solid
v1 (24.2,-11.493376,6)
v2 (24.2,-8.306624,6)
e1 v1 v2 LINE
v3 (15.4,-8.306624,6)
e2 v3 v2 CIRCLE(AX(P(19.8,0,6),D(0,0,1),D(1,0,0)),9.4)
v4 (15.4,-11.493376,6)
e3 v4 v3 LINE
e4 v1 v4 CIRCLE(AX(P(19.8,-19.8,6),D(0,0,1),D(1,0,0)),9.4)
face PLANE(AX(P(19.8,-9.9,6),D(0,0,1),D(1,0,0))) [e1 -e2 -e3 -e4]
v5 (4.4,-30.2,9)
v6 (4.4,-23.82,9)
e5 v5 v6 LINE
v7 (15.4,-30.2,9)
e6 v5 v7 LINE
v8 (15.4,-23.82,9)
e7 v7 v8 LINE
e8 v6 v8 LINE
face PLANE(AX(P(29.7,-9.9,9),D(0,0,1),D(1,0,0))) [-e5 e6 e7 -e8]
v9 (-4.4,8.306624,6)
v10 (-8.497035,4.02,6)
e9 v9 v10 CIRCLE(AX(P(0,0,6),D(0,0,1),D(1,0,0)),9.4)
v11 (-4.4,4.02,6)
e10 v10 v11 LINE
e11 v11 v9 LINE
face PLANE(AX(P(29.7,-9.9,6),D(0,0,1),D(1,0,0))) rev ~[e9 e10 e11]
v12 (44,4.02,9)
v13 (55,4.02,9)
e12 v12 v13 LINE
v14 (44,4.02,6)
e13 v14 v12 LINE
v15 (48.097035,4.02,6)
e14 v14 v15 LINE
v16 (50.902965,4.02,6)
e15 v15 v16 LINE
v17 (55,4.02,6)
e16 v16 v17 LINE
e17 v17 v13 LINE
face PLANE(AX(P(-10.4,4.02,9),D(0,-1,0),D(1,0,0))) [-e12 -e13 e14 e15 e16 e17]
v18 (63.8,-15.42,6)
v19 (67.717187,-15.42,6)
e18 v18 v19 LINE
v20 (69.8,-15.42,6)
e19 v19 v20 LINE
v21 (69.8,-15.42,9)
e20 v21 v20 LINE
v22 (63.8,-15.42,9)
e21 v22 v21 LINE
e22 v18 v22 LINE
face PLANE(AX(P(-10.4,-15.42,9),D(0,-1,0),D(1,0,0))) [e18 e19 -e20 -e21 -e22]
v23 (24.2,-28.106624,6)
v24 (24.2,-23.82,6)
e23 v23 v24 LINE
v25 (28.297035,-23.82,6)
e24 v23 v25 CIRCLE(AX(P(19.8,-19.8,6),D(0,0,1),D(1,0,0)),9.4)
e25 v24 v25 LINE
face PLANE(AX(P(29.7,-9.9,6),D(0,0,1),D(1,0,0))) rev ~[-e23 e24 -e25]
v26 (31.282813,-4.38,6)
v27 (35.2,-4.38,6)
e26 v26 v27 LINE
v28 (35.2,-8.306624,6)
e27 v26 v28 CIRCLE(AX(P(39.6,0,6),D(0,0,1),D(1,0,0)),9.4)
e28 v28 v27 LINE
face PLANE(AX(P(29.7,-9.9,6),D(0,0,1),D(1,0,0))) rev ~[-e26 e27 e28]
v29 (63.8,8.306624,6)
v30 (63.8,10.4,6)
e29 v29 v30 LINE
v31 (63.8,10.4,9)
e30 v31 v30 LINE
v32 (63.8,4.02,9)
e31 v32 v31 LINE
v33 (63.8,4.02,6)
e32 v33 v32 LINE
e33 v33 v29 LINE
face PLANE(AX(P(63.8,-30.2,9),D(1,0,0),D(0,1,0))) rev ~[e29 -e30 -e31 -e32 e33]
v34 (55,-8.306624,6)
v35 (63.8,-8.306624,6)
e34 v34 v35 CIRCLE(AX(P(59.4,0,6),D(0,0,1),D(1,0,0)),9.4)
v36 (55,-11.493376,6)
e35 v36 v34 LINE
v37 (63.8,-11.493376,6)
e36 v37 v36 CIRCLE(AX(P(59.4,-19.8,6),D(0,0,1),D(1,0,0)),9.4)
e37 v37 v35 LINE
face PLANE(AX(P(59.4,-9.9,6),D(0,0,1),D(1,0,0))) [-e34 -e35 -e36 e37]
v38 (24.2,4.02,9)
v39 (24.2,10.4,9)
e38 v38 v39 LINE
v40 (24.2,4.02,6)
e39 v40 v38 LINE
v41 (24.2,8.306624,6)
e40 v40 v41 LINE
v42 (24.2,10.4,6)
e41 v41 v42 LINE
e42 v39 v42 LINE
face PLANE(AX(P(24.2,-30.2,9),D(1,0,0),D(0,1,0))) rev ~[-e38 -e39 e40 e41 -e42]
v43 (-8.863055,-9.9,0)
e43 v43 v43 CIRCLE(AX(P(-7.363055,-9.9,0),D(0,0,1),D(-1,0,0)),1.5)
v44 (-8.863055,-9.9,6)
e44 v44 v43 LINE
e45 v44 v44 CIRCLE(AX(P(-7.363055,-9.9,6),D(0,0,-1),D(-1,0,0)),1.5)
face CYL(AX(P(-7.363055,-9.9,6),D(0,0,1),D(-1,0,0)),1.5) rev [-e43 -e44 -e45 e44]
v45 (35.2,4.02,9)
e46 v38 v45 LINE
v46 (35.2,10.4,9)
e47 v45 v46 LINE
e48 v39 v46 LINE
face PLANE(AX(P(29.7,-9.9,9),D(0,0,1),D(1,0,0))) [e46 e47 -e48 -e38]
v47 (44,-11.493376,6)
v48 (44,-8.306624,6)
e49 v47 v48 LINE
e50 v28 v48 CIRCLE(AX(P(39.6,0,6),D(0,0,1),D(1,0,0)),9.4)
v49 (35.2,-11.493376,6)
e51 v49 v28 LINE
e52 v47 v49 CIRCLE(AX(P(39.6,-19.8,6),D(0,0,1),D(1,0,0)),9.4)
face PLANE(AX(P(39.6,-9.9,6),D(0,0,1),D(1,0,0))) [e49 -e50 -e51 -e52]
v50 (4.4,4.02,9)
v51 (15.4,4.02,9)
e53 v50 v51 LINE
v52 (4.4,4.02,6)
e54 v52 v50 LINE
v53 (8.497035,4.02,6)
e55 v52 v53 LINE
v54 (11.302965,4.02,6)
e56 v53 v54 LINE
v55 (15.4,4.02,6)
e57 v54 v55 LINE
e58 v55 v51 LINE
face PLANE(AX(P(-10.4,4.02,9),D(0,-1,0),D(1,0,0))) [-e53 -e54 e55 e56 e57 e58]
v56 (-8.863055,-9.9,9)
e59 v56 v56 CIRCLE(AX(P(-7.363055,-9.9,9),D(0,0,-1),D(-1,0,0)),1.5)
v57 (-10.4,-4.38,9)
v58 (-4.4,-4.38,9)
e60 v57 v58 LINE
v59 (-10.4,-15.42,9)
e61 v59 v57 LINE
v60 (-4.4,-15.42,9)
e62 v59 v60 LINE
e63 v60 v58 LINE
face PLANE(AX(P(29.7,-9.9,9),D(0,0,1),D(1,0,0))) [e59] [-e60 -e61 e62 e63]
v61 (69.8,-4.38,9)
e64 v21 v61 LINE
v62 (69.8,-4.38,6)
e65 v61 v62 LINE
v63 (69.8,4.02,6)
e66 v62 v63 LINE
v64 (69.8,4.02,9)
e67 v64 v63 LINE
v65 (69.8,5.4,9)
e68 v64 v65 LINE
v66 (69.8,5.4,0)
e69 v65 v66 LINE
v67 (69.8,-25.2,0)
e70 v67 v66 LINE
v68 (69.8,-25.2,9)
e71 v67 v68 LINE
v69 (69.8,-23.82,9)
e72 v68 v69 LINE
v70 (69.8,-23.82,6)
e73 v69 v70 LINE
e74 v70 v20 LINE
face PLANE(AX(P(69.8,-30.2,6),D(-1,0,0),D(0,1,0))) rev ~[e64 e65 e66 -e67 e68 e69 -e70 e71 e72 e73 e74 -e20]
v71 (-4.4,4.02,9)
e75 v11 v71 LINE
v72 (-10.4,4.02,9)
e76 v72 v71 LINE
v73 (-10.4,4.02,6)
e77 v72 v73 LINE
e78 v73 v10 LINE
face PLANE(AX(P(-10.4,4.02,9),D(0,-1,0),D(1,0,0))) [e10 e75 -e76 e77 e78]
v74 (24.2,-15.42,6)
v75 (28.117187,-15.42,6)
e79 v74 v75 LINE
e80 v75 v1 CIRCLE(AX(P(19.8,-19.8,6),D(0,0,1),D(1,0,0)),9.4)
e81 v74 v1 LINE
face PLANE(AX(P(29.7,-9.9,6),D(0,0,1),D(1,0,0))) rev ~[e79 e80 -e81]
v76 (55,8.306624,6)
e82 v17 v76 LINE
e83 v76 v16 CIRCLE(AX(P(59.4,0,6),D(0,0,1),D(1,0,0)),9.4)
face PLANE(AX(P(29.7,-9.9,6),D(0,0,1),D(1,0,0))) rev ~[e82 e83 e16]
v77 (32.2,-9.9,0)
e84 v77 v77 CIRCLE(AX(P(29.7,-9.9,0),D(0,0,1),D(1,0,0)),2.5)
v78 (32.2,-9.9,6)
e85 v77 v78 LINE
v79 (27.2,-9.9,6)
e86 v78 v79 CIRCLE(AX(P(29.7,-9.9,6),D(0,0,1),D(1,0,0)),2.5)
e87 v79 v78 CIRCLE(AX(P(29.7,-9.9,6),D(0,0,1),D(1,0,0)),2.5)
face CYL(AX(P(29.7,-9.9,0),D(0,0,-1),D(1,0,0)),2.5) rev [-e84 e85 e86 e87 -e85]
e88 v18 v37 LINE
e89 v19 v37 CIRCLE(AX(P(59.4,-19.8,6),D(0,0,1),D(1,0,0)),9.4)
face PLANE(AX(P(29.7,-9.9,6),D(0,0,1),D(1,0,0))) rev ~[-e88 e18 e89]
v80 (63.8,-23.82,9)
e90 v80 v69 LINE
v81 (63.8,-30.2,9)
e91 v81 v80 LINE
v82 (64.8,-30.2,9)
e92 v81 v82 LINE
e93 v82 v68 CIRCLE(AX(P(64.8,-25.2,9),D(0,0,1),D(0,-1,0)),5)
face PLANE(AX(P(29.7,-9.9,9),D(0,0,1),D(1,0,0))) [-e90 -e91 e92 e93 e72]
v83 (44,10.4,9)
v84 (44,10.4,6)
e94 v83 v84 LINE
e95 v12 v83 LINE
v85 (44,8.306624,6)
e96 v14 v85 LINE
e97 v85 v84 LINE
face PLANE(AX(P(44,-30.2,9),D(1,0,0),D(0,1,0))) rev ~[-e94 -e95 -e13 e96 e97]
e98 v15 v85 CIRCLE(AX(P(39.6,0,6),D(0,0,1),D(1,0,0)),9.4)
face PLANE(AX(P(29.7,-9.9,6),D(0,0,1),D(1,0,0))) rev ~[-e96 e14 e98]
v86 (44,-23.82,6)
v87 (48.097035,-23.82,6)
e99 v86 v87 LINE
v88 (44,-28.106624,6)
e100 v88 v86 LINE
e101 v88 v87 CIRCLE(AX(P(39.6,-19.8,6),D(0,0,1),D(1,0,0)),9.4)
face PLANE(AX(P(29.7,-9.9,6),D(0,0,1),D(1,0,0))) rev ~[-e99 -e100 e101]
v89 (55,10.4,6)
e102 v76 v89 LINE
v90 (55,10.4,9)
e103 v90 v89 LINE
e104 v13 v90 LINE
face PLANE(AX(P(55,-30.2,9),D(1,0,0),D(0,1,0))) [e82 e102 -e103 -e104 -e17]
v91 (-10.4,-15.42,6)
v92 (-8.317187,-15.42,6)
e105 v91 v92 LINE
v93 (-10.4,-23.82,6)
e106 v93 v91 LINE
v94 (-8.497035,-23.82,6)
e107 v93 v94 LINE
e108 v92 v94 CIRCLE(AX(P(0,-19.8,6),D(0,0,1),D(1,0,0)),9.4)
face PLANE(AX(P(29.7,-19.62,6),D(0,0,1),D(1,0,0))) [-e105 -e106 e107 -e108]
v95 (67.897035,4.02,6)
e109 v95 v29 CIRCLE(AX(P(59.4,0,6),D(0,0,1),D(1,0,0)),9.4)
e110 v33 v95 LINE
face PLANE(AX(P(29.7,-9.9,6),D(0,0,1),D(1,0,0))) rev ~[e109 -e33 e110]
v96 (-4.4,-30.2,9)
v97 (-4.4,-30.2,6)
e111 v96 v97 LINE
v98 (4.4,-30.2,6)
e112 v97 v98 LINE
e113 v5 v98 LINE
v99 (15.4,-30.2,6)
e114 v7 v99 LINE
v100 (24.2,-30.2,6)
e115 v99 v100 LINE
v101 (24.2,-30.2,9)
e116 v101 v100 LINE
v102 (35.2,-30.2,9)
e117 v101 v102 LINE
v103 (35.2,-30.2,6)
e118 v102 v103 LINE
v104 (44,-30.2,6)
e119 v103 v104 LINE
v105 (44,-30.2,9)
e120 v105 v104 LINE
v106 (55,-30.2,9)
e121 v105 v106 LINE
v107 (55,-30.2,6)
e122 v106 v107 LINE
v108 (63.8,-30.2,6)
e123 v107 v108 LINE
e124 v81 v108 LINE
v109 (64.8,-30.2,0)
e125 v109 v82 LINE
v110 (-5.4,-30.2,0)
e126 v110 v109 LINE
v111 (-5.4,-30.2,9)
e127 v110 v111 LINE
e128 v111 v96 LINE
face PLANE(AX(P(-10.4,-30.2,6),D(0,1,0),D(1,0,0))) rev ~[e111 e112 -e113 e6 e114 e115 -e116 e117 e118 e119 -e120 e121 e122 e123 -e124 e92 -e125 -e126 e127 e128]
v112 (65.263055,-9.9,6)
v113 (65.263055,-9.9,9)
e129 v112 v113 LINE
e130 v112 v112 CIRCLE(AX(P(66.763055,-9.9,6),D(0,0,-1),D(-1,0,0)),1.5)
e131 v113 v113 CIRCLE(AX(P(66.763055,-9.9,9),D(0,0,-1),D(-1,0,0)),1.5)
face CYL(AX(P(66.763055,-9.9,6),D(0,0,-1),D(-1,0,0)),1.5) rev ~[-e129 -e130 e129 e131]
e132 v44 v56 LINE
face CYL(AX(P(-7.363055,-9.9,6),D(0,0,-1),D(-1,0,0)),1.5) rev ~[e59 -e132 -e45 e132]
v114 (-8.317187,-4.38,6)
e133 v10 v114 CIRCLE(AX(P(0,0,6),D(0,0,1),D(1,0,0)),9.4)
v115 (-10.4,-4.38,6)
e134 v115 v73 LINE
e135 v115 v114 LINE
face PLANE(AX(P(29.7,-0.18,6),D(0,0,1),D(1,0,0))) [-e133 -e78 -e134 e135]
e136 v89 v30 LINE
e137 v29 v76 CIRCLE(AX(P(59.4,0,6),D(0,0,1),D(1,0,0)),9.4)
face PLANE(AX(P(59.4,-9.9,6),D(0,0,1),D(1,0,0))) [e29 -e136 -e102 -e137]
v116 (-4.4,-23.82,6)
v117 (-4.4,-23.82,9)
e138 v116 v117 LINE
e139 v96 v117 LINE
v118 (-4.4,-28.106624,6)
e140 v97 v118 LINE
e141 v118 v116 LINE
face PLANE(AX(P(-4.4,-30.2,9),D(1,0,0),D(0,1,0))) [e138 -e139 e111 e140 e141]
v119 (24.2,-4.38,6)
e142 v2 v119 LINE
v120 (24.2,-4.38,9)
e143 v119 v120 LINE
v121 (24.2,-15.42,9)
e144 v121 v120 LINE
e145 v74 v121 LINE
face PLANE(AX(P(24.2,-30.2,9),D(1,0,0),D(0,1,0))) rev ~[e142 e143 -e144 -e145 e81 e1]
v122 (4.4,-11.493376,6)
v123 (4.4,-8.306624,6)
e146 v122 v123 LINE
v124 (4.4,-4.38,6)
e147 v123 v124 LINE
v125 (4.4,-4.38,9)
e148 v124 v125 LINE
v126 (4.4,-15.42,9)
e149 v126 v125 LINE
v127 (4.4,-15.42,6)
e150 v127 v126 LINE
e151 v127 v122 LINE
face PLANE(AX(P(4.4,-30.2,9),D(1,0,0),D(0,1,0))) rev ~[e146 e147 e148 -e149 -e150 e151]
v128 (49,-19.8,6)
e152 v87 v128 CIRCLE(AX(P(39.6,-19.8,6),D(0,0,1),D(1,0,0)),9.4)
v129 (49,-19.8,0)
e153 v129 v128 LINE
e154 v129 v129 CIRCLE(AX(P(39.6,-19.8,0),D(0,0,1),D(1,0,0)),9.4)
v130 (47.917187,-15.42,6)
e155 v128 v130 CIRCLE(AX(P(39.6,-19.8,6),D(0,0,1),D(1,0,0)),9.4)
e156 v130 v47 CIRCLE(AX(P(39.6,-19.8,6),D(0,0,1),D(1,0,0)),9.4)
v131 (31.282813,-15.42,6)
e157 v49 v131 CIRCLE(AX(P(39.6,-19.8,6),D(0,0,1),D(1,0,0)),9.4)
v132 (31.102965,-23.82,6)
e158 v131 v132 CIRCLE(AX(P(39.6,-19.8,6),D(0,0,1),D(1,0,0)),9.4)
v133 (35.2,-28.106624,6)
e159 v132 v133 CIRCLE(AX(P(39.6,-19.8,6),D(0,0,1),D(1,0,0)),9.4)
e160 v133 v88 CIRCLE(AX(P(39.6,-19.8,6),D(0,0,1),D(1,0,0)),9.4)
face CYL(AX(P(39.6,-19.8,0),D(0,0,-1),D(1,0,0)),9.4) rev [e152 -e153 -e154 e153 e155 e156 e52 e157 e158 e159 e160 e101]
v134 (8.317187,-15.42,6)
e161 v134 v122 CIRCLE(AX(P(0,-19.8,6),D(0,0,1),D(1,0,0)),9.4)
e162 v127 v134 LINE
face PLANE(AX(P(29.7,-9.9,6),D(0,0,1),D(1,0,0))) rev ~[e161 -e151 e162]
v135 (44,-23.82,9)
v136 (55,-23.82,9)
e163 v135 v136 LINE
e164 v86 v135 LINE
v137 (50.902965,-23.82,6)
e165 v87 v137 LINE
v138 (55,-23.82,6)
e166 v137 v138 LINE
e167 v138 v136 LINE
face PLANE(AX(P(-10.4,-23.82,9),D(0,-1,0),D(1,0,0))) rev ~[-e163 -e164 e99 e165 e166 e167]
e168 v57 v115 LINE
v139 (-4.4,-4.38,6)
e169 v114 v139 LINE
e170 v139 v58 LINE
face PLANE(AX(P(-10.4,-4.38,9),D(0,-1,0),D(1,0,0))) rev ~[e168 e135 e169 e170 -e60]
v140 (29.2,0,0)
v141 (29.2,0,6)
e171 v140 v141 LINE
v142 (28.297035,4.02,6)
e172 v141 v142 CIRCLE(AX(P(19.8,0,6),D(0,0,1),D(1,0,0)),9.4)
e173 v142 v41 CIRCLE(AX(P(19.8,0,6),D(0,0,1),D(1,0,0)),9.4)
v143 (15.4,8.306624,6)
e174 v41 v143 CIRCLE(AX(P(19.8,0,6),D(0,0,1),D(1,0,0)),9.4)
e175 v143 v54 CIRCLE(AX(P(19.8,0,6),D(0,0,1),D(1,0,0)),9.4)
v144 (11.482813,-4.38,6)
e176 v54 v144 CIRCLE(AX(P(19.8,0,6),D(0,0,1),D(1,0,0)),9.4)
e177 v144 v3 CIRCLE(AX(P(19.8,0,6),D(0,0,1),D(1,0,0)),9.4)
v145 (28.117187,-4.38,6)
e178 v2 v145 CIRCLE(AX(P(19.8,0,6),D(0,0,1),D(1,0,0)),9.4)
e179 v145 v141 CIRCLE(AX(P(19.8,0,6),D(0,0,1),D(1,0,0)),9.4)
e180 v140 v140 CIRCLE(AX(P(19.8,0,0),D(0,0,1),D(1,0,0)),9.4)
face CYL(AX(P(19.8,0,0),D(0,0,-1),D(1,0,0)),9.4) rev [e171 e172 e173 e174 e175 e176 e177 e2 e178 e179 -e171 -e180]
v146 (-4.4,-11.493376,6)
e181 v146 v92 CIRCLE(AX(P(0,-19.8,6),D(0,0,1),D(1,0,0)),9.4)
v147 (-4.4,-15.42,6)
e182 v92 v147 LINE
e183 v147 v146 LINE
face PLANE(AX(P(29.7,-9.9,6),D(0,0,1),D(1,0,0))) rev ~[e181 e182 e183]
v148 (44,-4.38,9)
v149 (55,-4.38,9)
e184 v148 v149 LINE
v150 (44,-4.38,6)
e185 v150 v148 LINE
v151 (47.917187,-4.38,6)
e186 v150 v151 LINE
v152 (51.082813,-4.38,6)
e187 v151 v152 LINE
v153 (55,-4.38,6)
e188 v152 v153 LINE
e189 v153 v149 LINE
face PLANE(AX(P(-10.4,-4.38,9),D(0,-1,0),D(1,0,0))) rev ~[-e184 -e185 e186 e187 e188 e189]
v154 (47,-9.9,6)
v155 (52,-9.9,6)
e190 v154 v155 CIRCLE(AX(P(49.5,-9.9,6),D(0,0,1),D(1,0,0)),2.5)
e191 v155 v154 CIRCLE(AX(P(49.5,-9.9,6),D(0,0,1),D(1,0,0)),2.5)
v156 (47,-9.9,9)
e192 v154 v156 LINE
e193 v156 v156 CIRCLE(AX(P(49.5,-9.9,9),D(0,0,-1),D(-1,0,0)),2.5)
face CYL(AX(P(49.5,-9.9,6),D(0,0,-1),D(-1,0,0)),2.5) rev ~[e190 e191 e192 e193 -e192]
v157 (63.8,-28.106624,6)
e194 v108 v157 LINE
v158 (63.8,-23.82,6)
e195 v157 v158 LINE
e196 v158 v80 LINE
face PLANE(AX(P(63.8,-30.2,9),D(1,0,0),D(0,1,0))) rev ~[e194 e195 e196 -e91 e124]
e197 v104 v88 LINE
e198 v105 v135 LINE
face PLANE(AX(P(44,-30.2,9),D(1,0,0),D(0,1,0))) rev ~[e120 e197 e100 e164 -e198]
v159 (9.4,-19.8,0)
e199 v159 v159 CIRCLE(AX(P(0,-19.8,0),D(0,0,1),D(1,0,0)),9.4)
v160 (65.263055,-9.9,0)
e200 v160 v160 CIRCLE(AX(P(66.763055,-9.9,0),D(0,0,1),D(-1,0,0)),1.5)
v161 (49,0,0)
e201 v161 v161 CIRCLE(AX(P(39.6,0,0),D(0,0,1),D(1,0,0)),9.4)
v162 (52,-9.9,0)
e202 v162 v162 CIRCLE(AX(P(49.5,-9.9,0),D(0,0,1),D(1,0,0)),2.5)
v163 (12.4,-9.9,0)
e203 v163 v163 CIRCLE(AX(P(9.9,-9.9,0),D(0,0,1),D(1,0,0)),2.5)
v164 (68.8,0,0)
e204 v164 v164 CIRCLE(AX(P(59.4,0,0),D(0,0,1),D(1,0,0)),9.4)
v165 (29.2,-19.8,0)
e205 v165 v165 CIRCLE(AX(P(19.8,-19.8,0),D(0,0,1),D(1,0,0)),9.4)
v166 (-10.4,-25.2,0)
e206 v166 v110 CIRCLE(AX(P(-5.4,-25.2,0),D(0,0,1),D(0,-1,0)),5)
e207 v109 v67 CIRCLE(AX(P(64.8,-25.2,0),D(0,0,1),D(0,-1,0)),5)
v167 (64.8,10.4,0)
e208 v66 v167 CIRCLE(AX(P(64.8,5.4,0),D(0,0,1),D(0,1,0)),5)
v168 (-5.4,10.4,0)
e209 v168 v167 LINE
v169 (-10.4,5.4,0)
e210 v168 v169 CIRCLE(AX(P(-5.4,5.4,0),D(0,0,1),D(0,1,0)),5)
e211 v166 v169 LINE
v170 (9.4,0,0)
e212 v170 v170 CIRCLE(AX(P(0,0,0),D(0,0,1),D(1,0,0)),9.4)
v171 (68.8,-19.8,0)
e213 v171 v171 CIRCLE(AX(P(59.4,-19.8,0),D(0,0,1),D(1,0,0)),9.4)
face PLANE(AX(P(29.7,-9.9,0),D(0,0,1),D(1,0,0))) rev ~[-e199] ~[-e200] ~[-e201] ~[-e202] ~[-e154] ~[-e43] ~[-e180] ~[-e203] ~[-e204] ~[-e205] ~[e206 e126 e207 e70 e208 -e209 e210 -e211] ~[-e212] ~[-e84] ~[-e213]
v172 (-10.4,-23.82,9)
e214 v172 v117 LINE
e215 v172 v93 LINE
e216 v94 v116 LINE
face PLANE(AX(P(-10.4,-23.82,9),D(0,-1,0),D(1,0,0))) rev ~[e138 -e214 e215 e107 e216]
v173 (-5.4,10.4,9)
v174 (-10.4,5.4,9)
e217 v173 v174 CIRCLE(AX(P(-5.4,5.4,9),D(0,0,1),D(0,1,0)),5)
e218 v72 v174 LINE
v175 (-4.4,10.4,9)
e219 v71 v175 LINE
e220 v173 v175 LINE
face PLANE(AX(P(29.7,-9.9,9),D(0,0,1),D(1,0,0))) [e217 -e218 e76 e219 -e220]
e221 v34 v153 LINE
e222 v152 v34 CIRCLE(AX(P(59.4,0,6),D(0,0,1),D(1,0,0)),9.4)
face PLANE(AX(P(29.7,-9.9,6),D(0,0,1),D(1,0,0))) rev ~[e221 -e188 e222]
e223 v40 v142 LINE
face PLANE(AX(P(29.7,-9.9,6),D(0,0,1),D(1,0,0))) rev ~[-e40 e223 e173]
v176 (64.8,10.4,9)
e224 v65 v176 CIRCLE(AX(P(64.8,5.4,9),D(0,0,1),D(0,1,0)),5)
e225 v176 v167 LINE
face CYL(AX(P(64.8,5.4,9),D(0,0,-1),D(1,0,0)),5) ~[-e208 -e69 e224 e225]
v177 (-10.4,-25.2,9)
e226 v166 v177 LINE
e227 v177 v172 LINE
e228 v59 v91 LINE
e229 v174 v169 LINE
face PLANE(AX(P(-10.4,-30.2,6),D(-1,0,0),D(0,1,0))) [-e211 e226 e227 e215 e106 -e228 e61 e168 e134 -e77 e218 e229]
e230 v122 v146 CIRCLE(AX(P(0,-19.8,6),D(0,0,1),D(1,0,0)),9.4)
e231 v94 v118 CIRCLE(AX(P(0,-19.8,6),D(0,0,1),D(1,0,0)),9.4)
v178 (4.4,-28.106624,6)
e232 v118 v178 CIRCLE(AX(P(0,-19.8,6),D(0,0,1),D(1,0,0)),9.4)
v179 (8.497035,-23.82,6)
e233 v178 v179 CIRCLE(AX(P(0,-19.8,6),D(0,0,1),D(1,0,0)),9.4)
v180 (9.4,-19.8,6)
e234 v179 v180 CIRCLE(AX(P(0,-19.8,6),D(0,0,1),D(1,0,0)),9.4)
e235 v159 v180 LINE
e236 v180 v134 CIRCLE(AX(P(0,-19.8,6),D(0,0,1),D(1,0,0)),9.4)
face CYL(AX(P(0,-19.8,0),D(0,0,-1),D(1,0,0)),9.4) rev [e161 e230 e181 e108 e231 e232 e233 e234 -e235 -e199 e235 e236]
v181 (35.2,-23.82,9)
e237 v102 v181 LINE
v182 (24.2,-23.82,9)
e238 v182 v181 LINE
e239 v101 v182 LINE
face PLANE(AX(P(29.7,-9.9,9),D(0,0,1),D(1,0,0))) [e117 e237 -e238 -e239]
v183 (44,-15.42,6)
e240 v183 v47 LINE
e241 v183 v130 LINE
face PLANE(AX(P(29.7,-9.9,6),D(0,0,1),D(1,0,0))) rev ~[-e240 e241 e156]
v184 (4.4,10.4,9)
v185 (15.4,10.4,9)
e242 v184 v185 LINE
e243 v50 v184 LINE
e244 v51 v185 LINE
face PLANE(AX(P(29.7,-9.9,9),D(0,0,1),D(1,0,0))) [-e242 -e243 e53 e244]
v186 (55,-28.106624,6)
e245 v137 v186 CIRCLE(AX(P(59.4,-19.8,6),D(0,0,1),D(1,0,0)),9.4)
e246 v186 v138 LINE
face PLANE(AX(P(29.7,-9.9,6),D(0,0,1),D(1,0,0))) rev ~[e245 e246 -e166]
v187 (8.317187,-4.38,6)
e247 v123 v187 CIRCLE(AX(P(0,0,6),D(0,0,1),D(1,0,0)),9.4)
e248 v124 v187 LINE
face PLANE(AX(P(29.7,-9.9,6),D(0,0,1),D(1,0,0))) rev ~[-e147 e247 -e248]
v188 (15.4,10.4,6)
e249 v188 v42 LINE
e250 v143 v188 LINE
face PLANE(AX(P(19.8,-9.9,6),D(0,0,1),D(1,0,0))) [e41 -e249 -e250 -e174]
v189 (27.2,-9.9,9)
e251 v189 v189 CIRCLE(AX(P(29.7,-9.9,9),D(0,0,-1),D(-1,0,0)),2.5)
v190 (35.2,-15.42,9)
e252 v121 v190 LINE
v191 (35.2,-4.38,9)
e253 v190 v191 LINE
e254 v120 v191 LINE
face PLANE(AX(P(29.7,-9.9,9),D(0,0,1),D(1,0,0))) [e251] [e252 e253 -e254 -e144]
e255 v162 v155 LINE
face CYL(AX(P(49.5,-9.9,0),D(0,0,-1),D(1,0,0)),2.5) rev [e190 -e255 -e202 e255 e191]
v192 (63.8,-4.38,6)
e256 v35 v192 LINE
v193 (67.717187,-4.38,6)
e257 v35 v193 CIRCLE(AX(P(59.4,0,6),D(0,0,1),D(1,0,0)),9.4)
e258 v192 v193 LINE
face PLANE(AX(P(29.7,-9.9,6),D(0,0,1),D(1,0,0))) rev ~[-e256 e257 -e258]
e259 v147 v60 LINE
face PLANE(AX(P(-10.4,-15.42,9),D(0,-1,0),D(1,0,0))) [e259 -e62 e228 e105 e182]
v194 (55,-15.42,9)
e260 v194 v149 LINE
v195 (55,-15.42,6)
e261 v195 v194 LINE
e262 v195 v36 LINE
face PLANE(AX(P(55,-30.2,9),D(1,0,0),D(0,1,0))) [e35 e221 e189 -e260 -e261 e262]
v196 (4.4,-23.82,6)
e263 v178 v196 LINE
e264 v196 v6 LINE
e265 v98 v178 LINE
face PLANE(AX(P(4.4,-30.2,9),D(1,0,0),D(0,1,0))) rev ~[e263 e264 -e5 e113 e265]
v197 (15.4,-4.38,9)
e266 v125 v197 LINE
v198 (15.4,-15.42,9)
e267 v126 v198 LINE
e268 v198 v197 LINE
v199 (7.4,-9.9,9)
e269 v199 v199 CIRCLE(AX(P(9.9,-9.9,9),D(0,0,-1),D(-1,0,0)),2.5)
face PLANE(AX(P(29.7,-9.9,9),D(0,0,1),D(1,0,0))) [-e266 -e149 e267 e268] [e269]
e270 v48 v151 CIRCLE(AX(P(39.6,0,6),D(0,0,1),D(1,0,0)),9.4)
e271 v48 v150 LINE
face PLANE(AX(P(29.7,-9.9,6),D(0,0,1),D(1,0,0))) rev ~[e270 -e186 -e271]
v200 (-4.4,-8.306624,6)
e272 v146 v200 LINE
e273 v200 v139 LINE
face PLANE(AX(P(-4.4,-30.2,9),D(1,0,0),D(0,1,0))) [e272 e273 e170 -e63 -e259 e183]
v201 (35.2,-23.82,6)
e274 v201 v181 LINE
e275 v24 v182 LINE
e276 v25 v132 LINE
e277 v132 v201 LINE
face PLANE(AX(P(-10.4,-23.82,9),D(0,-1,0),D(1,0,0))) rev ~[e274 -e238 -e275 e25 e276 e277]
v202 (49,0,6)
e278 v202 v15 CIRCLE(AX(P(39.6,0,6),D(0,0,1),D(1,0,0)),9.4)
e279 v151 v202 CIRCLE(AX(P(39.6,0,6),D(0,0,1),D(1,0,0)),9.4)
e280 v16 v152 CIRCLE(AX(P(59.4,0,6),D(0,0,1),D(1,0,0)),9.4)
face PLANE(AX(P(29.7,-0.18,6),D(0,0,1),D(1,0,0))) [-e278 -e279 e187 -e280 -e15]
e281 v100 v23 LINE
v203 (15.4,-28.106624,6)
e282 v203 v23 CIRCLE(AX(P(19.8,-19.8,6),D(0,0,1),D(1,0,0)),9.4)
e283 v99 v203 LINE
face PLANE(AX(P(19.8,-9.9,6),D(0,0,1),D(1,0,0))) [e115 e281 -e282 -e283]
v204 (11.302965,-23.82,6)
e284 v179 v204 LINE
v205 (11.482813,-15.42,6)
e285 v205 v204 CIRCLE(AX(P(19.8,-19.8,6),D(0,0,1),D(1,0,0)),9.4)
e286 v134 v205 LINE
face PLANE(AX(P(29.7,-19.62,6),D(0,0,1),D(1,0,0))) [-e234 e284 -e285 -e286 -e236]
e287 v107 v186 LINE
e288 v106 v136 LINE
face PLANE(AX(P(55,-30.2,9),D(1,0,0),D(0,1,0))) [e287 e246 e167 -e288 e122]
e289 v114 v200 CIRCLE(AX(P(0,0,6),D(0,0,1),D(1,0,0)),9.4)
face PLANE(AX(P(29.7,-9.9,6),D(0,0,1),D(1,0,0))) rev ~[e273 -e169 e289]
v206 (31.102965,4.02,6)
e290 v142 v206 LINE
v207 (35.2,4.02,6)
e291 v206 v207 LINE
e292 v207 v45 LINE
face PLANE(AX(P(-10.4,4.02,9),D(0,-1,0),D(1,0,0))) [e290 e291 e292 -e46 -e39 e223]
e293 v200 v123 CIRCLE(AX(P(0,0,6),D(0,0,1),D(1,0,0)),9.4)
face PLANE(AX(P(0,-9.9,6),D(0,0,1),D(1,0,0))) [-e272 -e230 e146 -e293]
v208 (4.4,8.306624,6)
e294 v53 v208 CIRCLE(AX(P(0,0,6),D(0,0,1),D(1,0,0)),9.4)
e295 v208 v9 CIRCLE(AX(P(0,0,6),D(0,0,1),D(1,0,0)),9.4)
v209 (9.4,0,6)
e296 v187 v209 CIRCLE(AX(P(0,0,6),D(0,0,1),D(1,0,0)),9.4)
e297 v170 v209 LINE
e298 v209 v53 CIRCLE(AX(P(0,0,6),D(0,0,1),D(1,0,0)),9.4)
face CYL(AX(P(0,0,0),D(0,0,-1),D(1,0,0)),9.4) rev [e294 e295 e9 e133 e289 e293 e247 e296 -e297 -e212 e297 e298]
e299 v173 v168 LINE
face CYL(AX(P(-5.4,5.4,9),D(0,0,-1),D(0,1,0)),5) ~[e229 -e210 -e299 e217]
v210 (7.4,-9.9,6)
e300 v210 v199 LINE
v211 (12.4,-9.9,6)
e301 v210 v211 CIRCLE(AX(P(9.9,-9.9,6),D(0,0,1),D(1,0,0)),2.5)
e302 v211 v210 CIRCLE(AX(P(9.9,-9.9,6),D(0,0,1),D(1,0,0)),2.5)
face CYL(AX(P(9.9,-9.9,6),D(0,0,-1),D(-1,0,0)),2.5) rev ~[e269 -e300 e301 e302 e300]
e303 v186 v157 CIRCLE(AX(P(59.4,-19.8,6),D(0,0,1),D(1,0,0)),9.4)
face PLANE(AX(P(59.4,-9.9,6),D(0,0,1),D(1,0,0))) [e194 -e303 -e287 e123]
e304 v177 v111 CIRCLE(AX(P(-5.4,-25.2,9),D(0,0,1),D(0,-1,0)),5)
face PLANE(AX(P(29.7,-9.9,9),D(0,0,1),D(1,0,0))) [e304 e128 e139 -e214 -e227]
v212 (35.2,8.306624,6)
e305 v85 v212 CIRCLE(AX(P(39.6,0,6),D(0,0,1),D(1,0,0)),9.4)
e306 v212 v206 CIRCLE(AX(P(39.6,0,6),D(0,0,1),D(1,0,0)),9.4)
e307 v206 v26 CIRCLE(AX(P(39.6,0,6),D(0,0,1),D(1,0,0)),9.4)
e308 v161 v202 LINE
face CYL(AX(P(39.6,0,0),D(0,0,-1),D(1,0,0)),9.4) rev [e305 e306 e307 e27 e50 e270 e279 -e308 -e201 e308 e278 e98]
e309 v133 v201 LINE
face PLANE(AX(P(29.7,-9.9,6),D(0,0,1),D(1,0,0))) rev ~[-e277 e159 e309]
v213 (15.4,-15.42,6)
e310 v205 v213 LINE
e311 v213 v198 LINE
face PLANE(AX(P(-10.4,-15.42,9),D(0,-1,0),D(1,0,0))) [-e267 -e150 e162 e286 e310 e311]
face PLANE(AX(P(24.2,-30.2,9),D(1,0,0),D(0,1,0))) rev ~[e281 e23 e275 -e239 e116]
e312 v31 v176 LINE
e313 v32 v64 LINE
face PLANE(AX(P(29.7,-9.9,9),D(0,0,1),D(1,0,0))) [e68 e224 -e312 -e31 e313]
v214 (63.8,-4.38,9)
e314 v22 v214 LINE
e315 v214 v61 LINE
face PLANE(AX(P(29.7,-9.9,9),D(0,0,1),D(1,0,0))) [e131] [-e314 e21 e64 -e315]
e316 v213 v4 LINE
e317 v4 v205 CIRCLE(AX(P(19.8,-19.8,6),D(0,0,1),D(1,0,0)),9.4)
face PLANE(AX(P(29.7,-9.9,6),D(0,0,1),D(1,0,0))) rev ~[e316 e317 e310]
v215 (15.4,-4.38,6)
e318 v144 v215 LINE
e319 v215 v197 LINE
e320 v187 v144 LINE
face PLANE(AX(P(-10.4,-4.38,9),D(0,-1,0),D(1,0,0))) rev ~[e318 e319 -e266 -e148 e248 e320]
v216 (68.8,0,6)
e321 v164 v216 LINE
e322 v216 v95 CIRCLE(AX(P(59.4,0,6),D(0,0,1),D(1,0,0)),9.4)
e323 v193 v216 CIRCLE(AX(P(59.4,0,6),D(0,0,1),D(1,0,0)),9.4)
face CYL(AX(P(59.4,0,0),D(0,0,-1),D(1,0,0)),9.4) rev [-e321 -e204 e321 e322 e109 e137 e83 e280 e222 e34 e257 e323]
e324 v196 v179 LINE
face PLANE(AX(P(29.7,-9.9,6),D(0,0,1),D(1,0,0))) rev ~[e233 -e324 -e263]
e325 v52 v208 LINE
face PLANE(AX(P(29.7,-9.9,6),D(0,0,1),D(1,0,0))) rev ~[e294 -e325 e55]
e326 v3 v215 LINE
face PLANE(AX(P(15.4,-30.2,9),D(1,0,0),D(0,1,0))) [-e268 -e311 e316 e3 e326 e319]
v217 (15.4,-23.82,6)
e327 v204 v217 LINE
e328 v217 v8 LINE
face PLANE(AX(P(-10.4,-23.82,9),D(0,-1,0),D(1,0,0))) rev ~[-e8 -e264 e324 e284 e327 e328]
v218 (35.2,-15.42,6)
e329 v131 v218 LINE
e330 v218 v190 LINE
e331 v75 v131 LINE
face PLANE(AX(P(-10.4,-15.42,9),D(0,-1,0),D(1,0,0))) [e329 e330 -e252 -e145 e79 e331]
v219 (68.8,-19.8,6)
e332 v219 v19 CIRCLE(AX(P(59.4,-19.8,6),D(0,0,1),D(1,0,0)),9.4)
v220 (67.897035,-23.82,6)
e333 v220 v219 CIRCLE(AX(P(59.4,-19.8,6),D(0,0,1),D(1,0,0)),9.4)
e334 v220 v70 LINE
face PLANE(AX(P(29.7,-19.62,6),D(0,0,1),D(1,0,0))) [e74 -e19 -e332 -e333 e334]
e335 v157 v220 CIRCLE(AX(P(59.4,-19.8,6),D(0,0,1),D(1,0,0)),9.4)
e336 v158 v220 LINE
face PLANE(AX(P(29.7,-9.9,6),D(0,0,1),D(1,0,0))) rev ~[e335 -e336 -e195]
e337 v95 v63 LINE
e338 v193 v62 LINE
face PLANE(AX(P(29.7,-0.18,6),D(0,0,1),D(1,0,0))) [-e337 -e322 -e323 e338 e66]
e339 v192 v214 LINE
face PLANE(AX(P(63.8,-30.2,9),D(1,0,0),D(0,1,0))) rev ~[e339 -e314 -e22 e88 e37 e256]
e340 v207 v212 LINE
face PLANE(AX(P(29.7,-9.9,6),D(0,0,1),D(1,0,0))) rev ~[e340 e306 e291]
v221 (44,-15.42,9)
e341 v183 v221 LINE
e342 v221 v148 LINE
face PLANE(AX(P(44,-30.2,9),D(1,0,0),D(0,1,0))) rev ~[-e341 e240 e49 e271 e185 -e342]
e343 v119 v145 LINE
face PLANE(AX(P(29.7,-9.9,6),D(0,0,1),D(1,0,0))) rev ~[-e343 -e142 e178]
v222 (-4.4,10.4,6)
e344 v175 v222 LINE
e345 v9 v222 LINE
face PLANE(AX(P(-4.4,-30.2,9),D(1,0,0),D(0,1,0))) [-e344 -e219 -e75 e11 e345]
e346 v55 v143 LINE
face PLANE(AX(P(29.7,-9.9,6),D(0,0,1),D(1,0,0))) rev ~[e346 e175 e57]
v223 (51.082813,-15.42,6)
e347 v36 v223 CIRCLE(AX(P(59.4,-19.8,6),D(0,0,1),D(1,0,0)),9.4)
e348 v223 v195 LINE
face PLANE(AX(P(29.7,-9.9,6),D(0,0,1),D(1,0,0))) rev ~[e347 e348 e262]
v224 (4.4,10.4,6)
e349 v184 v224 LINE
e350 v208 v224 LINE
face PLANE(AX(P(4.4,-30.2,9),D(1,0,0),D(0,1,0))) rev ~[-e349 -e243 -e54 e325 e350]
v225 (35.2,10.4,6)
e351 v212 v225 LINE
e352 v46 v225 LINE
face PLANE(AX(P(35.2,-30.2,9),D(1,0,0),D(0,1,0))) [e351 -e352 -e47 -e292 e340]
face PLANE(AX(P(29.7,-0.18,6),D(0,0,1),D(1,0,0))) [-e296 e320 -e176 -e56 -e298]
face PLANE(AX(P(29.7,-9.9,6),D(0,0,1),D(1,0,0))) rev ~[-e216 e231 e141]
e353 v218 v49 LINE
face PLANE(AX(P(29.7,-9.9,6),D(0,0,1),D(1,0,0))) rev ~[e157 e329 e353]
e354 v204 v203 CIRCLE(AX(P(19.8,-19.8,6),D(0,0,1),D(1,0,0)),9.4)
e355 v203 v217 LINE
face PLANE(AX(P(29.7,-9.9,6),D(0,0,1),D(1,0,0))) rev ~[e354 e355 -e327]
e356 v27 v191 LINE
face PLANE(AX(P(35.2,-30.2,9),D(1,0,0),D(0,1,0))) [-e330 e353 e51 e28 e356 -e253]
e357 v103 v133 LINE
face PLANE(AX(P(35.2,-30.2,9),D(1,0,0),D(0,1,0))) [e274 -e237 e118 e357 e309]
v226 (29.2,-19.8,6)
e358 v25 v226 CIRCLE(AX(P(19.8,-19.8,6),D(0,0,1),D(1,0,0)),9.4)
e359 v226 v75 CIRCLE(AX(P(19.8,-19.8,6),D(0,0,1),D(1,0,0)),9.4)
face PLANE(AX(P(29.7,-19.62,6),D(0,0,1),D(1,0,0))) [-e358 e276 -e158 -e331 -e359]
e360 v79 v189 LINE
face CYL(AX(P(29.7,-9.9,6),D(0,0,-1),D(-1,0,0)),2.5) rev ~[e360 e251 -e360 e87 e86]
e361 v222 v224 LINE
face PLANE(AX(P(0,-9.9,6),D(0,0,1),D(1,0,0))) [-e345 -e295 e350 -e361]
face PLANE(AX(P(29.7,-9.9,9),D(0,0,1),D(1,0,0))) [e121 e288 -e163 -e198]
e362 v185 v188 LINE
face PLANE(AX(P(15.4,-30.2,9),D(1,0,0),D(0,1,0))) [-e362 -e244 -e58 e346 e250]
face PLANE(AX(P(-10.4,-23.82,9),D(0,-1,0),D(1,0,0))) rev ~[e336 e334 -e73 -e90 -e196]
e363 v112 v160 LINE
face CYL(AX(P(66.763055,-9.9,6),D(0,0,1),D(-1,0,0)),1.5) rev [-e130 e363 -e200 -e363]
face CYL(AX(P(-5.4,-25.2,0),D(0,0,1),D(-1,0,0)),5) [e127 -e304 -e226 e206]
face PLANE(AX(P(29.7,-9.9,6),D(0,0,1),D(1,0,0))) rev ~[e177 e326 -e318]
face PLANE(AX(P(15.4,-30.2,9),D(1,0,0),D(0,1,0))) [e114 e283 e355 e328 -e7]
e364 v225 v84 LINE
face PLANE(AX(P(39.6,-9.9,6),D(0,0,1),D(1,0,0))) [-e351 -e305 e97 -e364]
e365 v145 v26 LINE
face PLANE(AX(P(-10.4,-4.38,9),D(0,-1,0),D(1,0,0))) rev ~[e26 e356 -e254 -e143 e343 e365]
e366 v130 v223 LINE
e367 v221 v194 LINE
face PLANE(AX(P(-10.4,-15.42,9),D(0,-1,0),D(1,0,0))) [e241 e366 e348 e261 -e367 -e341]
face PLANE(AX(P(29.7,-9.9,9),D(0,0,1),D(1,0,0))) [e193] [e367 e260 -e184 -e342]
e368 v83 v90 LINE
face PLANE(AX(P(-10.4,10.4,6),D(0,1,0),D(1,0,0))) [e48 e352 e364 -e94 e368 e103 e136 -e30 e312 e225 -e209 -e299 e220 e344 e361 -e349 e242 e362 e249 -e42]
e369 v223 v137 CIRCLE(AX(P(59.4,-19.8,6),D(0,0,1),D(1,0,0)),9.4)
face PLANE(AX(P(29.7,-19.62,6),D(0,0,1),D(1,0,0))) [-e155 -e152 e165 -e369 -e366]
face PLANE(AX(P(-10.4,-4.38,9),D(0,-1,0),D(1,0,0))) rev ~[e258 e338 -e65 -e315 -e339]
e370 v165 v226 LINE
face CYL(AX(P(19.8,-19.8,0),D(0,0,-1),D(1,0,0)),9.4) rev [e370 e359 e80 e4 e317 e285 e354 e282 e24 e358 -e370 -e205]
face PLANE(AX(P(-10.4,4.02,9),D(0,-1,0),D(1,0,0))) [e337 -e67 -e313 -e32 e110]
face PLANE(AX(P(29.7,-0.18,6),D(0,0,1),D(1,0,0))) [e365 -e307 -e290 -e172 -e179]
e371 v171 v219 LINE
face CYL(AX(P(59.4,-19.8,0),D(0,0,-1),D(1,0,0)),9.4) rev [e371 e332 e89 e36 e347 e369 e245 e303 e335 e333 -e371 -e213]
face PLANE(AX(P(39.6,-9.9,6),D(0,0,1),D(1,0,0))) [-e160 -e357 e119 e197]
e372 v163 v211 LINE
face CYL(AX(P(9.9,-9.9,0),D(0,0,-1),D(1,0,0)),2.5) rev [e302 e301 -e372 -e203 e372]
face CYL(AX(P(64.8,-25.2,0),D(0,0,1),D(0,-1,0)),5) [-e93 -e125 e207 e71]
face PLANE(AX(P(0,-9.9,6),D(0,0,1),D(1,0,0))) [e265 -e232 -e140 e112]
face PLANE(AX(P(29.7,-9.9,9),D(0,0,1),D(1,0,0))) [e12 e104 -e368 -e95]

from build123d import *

# Parameters (mm, degrees)
SKETCH_1_W               = 80.2
SKETCH_1_H               = 40.6
SKETCH_1_R               = 9.4
SKETCH_1_R_2             = 2.5
EXTRUDE_1_DEPTH          = 6
SKETCH_2_W               = 80.2
SKETCH_2_H               = 40.6
EXTRUDE_2_DEPTH          = 3
SKETCH_3_W               = 80.2
SKETCH_3_H               = 8.4
CUT_EXTRUDE_1_DEPTH      = 3
SKETCH_4_W               = 8.8
SKETCH_4_H               = 40.6
CUT_EXTRUDE_2_DEPTH      = 3
SKETCH_5_R               = 2.5
SKETCH_5_R_2             = 1.5
CUT_EXTRUDE_3_DEPTH      = 7
CUT_EXTRUDE_3_DEPTH_BACK = 10
FILLET_3_R               = 5
FILLET_8_R               = 5
FILLET_9_R               = 5
FILLET_10_R              = 5


with BuildPart() as part:
    # 草图1 → 凸台-拉伸1 (new body)
    with BuildSketch(Plane.XY):
        with Locations((29.7, -9.9)):
            Rectangle(SKETCH_1_W, SKETCH_1_H)
        Circle(SKETCH_1_R, mode=Mode.SUBTRACT)
        with Locations((19.8, 0)):
            Circle(SKETCH_1_R, mode=Mode.SUBTRACT)
        with Locations((39.6, 0)):
            Circle(SKETCH_1_R, mode=Mode.SUBTRACT)
        with Locations((59.4, 0)):
            Circle(SKETCH_1_R, mode=Mode.SUBTRACT)
        with Locations((0, -19.8)):
            Circle(SKETCH_1_R, mode=Mode.SUBTRACT)
        with Locations((19.8, -19.8)):
            Circle(SKETCH_1_R, mode=Mode.SUBTRACT)
        with Locations((39.6, -19.8)):
            Circle(SKETCH_1_R, mode=Mode.SUBTRACT)
        with Locations((59.4, -19.8)):
            Circle(SKETCH_1_R, mode=Mode.SUBTRACT)
        with Locations((9.9, -9.9)):
            Circle(SKETCH_1_R_2, mode=Mode.SUBTRACT)
        with Locations((29.7, -9.9)):
            Circle(SKETCH_1_R_2, mode=Mode.SUBTRACT)
        with Locations((49.5, -9.9)):
            Circle(SKETCH_1_R_2, mode=Mode.SUBTRACT)
    extrude(amount=EXTRUDE_1_DEPTH)

    # 草图2 → 凸台-拉伸2 (add)
    with BuildSketch(Plane.XY.offset(6)):
        with Locations((29.7, -9.9)):
            Rectangle(SKETCH_2_W, SKETCH_2_H)
    extrude(amount=EXTRUDE_2_DEPTH)

    # 草图3 → 切除-拉伸1 (cut)
    with BuildSketch(Plane.XY.offset(9)):
        with Locations((29.7, -0.18)):
            Rectangle(SKETCH_3_W, SKETCH_3_H)
        with Locations((29.7, -19.62)):
            Rectangle(SKETCH_3_W, SKETCH_3_H)
    extrude(amount=-CUT_EXTRUDE_1_DEPTH, mode=Mode.SUBTRACT)

    # 草图4 → 切除-拉伸2 (cut)
    with BuildSketch(Plane.XY.offset(9)):
        with Locations((0, -9.9)):
            Rectangle(SKETCH_4_W, SKETCH_4_H)
        with Locations((19.8, -9.9)):
            Rectangle(SKETCH_4_W, SKETCH_4_H)
        with Locations((39.6, -9.9)):
            Rectangle(SKETCH_4_W, SKETCH_4_H)
        with Locations((59.4, -9.9)):
            Rectangle(SKETCH_4_W, SKETCH_4_H)
    extrude(amount=-CUT_EXTRUDE_2_DEPTH, mode=Mode.SUBTRACT)

    # 草图5 → 切除-拉伸3 (cut, two sides)
    with BuildSketch(Plane(origin=(0, 0, 6), x_dir=(-1, 0, 0), z_dir=(0, 0, -1))) as cut_extrude_3_sk:
        with Locations((-49.5, -9.9)):
            Circle(SKETCH_5_R)
        with Locations((-29.7, -9.9)):
            Circle(SKETCH_5_R)
        with Locations((-9.9, -9.9)):
            Circle(SKETCH_5_R)
        with Locations((-66.76305517, -9.9)):
            Circle(SKETCH_5_R_2)
        with Locations((7.36305517, -9.9)):
            Circle(SKETCH_5_R_2)
    extrude(amount=CUT_EXTRUDE_3_DEPTH, mode=Mode.SUBTRACT)
    extrude(cut_extrude_3_sk.sketch, amount=-CUT_EXTRUDE_3_DEPTH_BACK, mode=Mode.SUBTRACT)

    # 圆角3
    fillet_3_edges = [part.edges().sort_by_distance(p)[0] for p in [
        (-10.4, -30.2, 4.5),
    ]]
    fillet(fillet_3_edges, radius=FILLET_3_R)

    # 圆角8
    fillet_8_edges = [part.edges().sort_by_distance(p)[0] for p in [
        (69.8, -30.2, 4.5),
    ]]
    fillet(fillet_8_edges, radius=FILLET_8_R)

    # 圆角9
    fillet_9_edges = [part.edges().sort_by_distance(p)[0] for p in [
        (69.8, 10.4, 4.5),
    ]]
    fillet(fillet_9_edges, radius=FILLET_9_R)

    # 圆角10
    fillet_10_edges = [part.edges().sort_by_distance(p)[0] for p in [
        (-10.4, 10.4, 4.5),
    ]]
    fillet(fillet_10_edges, radius=FILLET_10_R)


solid = part.part
